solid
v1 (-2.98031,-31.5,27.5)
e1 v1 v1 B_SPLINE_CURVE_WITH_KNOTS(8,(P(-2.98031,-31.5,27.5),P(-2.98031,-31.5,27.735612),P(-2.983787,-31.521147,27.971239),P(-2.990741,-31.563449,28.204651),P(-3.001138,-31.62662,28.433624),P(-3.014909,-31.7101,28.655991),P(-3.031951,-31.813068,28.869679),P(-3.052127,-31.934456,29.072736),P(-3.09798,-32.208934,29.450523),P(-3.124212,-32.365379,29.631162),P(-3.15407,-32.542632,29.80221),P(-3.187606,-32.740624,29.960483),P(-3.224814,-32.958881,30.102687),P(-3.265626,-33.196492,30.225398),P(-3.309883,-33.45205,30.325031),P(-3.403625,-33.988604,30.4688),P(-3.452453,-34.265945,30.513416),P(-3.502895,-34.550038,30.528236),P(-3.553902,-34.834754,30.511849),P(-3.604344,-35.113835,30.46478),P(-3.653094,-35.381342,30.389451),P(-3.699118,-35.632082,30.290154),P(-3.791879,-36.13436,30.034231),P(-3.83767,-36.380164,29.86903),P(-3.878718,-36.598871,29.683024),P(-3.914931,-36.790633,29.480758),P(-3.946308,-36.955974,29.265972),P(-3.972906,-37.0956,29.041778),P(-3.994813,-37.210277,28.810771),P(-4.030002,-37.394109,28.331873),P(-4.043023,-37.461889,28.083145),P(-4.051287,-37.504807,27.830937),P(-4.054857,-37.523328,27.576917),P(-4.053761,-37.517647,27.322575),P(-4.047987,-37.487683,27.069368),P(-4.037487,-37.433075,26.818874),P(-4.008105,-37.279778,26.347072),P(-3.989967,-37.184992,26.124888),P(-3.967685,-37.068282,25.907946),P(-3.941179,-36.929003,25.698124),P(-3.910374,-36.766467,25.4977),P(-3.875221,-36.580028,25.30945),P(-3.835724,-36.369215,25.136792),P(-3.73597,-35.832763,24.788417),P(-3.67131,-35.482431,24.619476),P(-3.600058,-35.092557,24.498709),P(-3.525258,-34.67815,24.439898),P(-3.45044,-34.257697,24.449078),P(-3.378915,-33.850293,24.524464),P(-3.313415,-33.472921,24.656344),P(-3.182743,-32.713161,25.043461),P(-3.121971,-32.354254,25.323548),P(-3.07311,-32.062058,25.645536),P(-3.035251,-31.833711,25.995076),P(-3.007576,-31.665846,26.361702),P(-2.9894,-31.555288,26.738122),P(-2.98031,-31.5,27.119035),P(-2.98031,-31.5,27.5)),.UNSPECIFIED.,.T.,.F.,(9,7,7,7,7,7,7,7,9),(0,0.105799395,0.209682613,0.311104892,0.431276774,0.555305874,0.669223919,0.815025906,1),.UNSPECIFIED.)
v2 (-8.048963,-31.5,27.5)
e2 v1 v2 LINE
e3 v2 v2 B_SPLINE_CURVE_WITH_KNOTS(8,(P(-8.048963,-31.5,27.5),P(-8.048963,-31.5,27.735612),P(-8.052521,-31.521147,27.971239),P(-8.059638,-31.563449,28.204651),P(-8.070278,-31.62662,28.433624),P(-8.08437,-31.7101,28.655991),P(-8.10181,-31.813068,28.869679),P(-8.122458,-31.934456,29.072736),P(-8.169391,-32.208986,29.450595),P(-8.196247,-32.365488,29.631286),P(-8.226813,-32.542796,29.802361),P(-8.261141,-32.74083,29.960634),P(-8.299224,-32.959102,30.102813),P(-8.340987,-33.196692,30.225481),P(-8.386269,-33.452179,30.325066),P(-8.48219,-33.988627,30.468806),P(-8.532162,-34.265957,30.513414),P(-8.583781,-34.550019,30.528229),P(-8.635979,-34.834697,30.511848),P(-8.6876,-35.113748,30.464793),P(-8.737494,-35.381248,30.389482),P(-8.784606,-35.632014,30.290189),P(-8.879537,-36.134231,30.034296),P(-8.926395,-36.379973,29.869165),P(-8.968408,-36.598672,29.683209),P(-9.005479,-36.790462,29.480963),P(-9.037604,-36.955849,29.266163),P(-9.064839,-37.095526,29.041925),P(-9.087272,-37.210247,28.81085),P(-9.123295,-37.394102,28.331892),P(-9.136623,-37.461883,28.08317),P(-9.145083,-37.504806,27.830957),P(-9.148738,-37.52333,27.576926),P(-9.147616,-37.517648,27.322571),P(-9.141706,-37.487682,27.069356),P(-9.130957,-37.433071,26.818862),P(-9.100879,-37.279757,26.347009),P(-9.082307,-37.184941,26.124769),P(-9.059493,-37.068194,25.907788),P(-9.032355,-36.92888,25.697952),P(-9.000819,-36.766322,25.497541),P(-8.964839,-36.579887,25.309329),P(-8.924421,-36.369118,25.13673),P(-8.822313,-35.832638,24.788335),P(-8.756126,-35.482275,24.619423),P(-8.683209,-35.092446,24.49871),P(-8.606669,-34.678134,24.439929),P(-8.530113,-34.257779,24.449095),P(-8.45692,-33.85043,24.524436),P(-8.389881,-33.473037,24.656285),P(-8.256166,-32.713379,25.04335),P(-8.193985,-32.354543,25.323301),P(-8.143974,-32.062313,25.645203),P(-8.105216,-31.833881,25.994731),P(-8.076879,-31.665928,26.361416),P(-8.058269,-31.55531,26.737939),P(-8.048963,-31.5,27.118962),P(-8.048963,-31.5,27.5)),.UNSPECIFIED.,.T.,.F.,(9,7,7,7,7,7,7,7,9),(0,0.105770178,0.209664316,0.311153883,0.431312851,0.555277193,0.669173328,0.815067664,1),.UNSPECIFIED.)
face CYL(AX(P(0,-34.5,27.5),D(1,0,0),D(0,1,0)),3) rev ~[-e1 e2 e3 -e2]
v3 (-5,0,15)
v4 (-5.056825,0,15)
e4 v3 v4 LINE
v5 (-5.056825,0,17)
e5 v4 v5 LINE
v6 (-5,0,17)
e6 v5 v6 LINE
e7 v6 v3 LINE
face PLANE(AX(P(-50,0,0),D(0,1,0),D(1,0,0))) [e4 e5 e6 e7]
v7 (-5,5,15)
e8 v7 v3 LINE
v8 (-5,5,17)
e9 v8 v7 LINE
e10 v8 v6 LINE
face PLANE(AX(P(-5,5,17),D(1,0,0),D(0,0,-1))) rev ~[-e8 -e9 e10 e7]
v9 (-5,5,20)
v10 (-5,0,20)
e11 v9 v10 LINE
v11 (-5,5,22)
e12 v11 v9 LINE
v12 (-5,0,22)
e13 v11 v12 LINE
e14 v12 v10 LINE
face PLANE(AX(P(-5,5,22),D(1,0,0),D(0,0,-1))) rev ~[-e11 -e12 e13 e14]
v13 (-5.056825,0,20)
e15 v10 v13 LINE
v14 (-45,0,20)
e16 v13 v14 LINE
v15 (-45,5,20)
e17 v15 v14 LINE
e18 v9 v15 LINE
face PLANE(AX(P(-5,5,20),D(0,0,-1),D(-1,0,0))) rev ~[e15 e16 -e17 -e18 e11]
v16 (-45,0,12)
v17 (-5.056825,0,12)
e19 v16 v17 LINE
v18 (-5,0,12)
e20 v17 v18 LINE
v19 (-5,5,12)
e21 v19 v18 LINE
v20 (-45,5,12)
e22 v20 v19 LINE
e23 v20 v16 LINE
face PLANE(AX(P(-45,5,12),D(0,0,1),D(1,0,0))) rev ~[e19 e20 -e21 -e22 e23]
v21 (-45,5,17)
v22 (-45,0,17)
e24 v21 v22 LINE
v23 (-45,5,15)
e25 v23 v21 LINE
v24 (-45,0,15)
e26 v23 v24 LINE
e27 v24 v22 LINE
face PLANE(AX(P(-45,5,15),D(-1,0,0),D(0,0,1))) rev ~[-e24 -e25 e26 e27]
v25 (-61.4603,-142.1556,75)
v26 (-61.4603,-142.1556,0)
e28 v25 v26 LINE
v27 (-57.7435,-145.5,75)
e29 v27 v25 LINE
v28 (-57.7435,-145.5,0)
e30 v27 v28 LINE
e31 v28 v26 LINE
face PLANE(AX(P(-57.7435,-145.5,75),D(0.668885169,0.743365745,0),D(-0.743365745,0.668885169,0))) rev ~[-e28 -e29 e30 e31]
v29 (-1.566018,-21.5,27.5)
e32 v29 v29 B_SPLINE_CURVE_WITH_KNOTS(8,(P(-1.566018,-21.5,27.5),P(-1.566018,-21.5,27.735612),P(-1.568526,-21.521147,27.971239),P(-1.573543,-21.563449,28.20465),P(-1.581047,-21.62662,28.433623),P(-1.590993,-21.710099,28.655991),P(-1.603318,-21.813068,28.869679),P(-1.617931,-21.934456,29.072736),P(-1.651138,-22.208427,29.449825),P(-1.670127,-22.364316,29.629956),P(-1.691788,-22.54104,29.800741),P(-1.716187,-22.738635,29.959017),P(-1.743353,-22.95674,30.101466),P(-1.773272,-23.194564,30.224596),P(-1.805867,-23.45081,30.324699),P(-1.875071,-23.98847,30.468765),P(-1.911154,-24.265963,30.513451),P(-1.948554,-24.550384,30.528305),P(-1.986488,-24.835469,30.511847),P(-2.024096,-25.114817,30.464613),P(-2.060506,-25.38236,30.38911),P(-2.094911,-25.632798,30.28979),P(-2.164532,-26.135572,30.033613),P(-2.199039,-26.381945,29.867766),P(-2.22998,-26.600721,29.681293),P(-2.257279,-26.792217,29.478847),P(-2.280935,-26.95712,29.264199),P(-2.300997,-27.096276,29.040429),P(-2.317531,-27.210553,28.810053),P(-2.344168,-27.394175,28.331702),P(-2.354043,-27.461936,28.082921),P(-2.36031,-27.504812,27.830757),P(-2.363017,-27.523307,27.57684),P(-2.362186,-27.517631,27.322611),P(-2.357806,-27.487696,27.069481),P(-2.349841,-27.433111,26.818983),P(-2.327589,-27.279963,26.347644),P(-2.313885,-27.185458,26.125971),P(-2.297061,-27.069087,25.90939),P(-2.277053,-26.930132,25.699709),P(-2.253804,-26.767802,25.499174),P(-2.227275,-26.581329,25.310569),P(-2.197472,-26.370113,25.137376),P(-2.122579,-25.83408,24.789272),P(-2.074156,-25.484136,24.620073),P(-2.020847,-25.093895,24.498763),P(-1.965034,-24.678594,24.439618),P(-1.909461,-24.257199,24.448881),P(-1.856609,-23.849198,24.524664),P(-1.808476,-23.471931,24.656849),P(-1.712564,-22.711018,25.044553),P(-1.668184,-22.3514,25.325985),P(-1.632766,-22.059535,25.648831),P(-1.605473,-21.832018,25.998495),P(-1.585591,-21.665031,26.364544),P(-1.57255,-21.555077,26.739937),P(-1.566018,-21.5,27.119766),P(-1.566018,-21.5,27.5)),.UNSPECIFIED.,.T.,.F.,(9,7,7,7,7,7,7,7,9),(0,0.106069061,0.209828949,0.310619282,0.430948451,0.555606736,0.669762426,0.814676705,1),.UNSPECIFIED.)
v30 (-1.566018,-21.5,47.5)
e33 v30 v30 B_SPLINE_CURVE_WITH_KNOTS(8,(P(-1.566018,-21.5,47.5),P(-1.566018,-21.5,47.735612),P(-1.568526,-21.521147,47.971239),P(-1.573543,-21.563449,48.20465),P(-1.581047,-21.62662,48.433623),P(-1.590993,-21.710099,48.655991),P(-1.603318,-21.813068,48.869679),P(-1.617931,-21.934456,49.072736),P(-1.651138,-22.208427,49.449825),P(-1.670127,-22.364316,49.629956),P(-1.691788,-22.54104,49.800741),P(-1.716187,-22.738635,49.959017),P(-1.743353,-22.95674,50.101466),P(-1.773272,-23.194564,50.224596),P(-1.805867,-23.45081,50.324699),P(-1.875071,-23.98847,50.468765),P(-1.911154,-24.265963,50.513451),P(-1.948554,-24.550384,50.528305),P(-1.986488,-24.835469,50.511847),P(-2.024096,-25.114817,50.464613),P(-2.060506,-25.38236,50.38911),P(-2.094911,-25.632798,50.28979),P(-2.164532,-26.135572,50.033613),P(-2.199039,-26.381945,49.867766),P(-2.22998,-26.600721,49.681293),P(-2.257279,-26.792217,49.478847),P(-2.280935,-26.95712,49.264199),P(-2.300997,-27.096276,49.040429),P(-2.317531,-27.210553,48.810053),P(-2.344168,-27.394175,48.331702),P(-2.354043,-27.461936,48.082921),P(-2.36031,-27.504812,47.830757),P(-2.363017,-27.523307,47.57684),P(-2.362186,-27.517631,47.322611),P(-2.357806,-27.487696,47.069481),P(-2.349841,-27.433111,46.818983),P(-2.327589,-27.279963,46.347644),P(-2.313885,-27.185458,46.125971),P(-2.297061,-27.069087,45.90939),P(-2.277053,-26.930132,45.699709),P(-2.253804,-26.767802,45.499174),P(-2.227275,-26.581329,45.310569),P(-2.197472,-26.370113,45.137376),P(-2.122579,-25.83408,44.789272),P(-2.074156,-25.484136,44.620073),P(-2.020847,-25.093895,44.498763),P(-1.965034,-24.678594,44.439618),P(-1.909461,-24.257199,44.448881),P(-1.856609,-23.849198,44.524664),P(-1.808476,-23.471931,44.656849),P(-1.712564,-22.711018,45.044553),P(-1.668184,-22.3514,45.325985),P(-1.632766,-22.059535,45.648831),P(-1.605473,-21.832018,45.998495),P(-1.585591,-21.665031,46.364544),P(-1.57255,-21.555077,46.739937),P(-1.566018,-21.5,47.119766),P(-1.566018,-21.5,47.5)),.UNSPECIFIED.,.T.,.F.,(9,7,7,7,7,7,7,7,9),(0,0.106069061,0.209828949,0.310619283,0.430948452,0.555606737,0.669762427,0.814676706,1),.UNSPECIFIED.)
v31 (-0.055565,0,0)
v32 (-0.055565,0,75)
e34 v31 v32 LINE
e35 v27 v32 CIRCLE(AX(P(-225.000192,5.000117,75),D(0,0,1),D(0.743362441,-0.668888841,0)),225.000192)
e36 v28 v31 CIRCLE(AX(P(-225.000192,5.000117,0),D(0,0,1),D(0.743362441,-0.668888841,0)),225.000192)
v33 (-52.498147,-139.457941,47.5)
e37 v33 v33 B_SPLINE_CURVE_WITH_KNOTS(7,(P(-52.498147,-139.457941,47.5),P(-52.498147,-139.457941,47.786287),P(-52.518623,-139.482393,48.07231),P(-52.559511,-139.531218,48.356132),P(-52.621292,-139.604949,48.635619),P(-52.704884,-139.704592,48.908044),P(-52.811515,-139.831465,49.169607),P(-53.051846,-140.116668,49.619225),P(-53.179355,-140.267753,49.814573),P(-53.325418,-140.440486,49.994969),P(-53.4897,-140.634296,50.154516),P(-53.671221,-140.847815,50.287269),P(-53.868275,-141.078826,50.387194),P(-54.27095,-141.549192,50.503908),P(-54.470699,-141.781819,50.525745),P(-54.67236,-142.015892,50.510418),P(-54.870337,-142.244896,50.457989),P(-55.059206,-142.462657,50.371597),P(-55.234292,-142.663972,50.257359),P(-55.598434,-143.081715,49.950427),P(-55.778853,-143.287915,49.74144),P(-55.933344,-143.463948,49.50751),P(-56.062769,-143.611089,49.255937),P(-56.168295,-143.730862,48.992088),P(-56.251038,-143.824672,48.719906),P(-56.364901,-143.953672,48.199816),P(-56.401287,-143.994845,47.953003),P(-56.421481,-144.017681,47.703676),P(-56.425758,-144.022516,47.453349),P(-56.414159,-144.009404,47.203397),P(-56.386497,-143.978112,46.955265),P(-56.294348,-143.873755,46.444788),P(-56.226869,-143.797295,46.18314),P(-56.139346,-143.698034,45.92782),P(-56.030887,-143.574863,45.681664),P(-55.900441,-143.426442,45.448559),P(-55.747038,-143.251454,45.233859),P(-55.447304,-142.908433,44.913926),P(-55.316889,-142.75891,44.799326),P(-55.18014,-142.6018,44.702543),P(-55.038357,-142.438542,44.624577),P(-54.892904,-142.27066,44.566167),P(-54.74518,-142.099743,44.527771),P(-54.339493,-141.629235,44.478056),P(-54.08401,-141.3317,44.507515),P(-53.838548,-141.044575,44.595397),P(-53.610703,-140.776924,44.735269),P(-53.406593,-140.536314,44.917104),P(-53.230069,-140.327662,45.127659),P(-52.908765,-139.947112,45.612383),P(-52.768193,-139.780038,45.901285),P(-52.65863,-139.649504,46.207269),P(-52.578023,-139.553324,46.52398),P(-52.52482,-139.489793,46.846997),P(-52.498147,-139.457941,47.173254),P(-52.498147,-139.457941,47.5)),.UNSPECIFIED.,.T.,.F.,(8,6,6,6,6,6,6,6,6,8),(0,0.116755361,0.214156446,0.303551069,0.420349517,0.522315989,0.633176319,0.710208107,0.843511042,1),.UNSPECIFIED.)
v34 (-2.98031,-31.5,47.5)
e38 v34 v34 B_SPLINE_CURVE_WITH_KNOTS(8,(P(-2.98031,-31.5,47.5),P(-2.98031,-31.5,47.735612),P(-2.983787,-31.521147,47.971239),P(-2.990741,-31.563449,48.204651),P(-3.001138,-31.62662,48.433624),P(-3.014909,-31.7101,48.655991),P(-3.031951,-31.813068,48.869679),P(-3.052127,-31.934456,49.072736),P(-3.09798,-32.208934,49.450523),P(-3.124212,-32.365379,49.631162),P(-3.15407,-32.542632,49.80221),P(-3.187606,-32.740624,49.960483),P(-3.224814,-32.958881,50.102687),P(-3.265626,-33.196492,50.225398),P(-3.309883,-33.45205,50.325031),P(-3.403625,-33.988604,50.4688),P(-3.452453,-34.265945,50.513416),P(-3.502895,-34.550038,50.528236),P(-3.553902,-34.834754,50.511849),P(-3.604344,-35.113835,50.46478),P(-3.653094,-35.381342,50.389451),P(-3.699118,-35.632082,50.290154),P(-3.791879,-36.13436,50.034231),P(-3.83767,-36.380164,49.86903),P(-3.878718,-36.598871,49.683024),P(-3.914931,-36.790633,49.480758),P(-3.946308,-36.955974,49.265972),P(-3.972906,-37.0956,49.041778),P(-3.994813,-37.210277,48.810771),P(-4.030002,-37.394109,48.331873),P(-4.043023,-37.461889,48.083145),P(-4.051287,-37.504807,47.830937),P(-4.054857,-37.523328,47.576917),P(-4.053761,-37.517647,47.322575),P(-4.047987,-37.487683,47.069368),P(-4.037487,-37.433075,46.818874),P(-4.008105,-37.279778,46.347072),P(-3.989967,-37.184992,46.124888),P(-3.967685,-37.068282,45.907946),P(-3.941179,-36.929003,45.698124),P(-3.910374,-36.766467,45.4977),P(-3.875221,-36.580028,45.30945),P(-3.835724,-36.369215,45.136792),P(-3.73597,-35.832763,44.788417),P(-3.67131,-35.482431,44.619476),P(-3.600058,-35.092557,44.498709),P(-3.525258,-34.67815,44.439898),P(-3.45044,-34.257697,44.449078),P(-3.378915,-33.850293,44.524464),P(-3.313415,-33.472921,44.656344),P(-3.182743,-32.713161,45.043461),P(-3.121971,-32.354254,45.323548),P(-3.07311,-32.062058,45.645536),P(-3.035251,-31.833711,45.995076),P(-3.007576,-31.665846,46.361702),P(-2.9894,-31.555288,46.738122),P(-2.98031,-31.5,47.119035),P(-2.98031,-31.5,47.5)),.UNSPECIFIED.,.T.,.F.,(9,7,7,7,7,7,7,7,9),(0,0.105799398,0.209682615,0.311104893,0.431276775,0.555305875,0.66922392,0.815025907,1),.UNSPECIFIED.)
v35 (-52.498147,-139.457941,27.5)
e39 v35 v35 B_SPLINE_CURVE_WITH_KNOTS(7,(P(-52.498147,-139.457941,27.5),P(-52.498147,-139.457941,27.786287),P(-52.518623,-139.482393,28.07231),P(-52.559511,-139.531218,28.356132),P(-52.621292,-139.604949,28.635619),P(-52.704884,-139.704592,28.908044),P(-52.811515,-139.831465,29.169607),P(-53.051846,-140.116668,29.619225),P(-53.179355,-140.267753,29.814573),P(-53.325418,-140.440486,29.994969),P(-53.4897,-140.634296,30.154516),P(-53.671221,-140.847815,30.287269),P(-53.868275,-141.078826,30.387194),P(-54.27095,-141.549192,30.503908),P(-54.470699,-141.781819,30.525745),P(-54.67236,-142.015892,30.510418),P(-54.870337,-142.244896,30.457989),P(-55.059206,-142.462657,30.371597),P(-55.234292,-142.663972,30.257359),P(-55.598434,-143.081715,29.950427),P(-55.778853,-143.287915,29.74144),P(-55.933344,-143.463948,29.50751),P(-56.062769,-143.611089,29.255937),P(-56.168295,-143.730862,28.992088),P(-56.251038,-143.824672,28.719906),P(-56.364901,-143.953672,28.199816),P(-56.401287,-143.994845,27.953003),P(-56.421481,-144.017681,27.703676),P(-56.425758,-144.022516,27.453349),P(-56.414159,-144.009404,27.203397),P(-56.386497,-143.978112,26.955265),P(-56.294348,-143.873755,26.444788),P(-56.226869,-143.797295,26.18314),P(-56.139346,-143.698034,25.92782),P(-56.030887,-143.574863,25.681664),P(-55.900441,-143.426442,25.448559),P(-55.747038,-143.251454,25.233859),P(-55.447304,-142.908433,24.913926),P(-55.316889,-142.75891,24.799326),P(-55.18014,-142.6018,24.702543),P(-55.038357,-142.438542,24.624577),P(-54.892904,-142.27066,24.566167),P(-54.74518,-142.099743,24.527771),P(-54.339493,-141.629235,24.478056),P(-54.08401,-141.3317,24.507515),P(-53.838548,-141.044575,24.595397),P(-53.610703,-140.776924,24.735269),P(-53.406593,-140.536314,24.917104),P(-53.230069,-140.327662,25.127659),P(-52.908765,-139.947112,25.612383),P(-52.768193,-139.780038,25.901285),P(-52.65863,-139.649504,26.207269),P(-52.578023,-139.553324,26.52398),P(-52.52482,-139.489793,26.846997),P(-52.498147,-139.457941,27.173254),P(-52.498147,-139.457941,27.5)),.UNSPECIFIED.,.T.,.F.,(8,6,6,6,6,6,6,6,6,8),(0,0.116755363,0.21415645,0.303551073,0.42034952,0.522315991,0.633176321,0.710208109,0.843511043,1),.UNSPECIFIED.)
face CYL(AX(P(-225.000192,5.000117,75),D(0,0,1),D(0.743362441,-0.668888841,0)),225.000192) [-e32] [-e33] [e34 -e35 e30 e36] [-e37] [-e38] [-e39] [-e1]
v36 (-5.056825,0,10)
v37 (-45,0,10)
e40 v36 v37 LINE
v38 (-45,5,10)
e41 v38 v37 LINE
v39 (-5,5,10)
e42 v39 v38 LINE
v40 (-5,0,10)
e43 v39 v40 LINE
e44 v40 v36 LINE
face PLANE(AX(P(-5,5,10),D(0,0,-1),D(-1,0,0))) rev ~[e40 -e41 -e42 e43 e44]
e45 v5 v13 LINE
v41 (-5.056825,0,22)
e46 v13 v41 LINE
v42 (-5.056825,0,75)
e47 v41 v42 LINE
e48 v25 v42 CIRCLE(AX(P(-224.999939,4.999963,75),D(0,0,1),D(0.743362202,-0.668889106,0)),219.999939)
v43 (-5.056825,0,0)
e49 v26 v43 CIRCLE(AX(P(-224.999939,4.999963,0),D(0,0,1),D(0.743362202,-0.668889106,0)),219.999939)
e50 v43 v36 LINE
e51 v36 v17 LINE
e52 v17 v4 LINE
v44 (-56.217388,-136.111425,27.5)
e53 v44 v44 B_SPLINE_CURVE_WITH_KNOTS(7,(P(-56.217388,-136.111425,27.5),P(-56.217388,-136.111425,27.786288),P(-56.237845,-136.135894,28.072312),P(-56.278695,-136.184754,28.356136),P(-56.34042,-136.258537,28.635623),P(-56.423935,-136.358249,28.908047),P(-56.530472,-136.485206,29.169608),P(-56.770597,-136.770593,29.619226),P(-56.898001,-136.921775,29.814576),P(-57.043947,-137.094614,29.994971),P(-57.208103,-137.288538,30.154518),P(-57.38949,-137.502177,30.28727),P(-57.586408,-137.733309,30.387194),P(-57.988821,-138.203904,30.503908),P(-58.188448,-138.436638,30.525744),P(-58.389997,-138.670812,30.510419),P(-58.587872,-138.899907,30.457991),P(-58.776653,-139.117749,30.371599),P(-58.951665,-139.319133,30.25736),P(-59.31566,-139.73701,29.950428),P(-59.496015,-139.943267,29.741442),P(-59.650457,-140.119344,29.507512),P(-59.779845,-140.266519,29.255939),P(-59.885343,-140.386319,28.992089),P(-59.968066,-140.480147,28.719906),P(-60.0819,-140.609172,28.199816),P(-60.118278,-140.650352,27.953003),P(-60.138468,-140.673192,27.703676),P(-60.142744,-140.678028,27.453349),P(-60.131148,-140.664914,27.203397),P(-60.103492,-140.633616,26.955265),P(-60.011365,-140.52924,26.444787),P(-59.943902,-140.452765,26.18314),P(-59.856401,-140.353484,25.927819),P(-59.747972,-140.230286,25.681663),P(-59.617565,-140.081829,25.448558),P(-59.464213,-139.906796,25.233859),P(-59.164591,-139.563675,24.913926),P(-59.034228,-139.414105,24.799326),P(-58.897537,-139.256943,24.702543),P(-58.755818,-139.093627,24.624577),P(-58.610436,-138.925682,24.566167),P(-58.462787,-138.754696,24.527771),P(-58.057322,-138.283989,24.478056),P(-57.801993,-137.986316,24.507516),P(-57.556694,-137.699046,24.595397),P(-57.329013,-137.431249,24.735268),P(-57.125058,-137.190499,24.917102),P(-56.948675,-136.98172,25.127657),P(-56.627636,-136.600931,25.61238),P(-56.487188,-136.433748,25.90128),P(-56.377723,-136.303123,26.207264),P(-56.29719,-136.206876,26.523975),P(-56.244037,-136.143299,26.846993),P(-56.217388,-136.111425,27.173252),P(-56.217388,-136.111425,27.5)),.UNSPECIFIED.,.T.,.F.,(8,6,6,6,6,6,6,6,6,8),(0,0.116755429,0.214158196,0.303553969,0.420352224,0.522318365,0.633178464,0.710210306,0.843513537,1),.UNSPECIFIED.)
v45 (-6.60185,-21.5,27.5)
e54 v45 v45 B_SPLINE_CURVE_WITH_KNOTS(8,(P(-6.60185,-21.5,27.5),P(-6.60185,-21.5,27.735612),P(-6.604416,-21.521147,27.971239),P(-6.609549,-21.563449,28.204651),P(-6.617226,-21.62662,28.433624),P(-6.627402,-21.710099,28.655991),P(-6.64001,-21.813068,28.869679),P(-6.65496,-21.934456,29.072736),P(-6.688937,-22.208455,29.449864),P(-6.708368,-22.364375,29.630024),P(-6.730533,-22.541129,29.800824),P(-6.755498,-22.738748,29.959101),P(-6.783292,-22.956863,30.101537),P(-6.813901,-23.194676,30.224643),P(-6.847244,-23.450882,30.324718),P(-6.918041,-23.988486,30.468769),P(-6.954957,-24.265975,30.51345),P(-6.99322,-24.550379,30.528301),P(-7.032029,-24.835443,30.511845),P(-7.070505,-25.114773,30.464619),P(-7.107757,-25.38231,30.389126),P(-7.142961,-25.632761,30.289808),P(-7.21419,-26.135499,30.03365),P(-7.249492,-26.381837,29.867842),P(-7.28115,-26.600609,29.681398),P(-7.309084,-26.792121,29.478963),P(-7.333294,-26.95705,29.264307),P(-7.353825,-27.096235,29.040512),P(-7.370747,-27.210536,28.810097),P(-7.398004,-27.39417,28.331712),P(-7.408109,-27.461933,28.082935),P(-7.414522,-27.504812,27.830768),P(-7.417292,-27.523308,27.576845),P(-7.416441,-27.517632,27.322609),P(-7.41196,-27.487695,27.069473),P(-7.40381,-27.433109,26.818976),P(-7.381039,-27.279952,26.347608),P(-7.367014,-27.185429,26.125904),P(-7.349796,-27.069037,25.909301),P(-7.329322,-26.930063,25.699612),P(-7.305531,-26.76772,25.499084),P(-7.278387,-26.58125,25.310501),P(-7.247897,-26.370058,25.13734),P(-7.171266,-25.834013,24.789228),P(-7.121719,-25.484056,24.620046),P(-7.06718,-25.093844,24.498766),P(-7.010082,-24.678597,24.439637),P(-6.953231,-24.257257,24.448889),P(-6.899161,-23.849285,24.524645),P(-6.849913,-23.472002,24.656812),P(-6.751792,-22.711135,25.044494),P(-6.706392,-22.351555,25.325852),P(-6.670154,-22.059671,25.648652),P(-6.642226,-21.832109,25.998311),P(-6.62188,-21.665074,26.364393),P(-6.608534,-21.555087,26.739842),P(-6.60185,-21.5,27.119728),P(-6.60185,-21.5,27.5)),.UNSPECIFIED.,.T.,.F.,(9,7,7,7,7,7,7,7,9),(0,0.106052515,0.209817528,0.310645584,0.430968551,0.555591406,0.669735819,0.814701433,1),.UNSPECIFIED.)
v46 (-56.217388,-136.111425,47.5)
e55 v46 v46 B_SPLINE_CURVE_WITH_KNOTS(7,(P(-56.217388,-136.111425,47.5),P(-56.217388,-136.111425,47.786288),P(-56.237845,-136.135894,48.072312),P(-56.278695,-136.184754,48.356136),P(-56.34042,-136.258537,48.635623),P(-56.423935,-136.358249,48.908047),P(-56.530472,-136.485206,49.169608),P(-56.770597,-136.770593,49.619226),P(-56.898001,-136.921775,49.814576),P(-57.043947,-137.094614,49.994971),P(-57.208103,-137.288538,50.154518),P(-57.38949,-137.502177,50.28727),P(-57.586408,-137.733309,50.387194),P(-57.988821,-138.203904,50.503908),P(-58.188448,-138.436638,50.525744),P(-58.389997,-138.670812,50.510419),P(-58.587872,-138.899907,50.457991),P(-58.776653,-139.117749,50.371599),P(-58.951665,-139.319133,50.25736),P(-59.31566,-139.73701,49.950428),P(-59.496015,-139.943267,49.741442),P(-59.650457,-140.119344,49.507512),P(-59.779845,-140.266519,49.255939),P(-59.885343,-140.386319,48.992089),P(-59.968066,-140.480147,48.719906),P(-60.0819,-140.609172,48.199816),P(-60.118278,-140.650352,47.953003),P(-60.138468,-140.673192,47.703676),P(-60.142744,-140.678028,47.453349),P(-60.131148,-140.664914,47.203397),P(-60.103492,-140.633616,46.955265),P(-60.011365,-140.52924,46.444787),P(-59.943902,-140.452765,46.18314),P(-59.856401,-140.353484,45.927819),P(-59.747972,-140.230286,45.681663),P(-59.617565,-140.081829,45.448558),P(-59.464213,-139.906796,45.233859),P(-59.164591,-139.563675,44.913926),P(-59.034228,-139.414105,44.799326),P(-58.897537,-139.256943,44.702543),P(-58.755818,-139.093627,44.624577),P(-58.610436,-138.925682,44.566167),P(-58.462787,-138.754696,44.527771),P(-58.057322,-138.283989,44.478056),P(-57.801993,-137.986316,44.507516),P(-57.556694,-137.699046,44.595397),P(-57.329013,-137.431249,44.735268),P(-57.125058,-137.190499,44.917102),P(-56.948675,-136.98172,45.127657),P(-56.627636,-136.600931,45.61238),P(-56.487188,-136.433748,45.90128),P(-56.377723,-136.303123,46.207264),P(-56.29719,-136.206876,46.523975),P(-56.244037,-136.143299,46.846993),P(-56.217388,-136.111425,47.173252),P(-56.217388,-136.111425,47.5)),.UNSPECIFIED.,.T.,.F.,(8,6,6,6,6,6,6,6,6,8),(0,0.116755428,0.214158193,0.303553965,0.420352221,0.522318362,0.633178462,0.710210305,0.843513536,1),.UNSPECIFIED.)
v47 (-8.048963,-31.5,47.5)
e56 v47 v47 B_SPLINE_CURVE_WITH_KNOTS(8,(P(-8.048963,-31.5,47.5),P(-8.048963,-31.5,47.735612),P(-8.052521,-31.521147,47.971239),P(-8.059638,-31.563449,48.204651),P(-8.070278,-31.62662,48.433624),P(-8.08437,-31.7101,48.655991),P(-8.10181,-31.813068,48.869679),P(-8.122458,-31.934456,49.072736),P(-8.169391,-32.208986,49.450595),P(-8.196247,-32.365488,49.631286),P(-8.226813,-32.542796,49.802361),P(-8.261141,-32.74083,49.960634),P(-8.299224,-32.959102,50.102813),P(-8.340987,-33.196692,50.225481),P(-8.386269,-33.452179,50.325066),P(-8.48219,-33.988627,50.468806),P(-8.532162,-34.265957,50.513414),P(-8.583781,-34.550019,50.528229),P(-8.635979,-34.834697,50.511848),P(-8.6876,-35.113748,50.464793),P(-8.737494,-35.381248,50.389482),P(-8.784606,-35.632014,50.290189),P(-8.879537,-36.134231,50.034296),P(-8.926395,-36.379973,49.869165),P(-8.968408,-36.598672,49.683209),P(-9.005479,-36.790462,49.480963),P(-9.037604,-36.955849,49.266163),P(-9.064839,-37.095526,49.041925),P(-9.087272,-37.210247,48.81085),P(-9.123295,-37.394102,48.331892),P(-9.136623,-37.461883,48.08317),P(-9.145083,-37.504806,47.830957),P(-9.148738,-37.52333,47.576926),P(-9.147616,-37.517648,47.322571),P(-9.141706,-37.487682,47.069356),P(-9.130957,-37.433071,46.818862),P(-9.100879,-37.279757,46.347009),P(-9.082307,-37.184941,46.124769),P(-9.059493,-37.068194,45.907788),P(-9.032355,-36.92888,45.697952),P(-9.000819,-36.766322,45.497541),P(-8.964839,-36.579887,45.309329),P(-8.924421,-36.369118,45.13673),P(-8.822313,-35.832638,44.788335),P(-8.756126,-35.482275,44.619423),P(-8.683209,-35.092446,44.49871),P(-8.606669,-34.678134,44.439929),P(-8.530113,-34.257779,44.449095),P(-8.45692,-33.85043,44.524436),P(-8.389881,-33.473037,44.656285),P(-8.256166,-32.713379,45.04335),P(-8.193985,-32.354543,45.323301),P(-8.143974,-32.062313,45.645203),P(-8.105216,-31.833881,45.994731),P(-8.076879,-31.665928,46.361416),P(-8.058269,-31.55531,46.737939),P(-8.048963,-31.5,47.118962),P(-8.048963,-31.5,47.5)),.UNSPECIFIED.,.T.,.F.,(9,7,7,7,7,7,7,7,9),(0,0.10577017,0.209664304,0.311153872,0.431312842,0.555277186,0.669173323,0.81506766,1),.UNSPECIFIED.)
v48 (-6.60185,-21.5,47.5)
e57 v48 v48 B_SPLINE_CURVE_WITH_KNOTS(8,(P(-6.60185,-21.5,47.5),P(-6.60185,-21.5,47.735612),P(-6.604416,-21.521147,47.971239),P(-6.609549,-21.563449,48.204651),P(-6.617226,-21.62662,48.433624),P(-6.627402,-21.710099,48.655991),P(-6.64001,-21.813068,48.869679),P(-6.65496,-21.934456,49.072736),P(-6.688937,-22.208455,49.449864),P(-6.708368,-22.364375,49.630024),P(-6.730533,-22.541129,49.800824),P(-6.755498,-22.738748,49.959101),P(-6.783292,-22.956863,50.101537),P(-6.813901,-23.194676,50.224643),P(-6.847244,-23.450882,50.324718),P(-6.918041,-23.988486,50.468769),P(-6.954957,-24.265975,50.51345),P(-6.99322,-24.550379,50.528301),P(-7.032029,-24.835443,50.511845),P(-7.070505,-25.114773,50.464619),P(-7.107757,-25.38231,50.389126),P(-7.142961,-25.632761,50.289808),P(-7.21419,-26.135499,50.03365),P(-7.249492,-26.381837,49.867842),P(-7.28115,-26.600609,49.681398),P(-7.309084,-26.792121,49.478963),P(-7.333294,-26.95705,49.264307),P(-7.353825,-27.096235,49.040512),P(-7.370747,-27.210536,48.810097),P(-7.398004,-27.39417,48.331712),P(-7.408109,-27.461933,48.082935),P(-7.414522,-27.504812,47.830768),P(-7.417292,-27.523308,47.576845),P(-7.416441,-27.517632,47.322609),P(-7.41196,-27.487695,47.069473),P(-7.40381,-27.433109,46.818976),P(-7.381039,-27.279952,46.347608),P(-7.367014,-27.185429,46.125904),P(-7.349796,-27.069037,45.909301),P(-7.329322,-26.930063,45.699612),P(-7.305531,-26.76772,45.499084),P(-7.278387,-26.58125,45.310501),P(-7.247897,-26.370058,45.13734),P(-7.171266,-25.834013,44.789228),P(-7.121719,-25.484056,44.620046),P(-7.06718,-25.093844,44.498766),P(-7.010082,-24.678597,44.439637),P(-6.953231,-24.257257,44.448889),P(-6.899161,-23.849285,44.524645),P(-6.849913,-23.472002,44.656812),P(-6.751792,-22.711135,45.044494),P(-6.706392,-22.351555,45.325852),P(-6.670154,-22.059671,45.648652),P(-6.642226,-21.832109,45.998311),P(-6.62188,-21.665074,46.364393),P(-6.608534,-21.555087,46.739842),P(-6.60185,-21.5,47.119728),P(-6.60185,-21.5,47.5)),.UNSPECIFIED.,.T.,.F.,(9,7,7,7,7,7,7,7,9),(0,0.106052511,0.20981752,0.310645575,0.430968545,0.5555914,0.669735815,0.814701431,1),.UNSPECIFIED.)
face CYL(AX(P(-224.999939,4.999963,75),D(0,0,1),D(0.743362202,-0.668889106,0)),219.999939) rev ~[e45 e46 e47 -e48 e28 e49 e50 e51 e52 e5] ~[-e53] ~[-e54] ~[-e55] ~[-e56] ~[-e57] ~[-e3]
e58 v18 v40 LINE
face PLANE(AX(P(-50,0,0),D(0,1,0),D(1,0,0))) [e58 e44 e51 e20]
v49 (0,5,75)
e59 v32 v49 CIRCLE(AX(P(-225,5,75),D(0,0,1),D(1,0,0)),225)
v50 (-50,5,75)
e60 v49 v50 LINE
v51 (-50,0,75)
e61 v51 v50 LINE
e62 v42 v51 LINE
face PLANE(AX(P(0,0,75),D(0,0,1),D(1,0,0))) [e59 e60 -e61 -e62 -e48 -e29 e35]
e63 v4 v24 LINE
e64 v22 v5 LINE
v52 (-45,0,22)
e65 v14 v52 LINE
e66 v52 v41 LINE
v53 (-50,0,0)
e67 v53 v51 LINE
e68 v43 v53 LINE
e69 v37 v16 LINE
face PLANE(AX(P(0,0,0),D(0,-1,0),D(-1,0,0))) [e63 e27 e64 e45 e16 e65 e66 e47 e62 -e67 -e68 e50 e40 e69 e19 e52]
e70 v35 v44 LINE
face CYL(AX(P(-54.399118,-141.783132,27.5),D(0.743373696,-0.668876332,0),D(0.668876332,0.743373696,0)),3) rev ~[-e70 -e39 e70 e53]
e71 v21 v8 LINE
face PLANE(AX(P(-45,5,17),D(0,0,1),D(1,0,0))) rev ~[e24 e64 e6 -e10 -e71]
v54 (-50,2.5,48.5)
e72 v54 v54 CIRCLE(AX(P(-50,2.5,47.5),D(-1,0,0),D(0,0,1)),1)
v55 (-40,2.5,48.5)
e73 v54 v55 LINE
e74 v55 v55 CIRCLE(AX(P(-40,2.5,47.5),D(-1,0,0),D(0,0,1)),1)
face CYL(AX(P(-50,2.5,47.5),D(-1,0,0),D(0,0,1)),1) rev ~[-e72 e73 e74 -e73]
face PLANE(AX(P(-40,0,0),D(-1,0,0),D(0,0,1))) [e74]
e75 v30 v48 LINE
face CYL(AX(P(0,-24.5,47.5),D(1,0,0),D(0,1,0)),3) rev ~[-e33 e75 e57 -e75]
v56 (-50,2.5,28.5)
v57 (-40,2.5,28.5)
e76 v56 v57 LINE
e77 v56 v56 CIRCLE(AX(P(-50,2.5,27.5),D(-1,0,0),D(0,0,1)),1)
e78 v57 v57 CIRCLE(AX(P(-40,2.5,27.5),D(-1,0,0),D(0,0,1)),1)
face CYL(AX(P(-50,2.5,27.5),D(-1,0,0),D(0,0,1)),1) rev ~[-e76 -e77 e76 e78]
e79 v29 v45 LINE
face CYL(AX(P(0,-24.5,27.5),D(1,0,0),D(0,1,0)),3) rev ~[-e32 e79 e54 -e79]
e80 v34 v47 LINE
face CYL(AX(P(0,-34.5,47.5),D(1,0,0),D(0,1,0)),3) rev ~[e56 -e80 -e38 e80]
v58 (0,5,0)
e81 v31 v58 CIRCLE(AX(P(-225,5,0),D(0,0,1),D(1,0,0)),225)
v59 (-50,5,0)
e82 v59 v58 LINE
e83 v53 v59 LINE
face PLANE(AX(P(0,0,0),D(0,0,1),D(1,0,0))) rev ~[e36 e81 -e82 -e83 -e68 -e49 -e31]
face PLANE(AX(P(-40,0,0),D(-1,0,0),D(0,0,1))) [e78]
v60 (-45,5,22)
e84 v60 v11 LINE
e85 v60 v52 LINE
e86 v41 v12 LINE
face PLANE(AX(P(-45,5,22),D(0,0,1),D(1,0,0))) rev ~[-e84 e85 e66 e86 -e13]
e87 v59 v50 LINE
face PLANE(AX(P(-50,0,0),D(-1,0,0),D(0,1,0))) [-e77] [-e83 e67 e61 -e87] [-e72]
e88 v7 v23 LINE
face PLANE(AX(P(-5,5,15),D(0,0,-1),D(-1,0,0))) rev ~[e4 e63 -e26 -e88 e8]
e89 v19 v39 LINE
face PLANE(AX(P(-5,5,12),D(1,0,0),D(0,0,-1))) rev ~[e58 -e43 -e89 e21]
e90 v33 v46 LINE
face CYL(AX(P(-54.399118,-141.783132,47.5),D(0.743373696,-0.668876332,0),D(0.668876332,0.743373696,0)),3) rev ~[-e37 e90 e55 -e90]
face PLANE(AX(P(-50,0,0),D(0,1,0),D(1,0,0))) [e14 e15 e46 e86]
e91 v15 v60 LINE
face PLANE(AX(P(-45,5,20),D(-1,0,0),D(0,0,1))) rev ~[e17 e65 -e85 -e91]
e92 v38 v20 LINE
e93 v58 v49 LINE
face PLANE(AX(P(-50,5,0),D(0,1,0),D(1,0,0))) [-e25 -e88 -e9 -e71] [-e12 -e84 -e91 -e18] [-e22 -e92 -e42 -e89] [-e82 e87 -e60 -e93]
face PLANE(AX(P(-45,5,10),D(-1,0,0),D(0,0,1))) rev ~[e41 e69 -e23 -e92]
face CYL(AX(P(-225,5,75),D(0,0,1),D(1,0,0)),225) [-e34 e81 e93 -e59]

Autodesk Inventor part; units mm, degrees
ref_plane "YZ Plane" through (0, 0, 0) normal (1, 0, 0) x (0, 1, 0)
sketch "Sketch1" plane through (0, 0, 0) normal (0, 0, 1) x (1, 0, 0)
  line L0 (0, 0) -> (-50, 0)
  line L1 (-50, 0) -> (-50, 5)
  line L2 (-50, 5) -> (0, 5)
  line L3 (0, 5) -> (0, 0)
  dimension "d0" = 50
  dimension "d1" = 5
extrude "Extrusion1" add sketch "Sketch1" along normal blind 75
sketch "Sketch2" plane through (0, 0, 75) normal (0, 0, 1) x (1, 0, 0)
  circle A0 centre (-225, 5) radius 225 construction
  circle A1 centre (-225, 5) radius 220 construction
  line L0 (0, 0) -> (0, 5) projected
  line L1 (0, 5) -> (-5, 5)
  arc A2 (-57.7435, -145.5) -> (0, 5) centre (-225, 5) ccw
  line L2 (-57.7435, -145.5) -> (-61.4603, -142.1556)
  arc A3 (-61.4603, -142.1556) -> (-5, 5) centre (-225, 5) ccw
  dimension "d4" = 450
  dimension "d5" = 5
  dimension "d6" = 5
  dimension "d7" = 150.5
extrude "Extrusion2" add sketch "Sketch2" against normal blind 75
sketch "Sketch3" plane through (-50, 5, 0) normal (0, 1, 0) x (1, 0, 0)
  line L0 (45, -10) -> (5, -10)
  line L1 (5, -10) -> (5, -12)
  line L2 (5, -12) -> (45, -12)
  line L3 (45, -12) -> (45, -10)
  line L4 (0, 0) -> (0, -75) projected
  line L5 (0, 0) -> (50, 0) projected
  line L6 (5, -17) -> (45, -17)
  line L7 (45, -17) -> (45, -15)
  line L8 (45, -15) -> (5, -15)
  line L9 (5, -15) -> (5, -17)
  line L10 (5, -22) -> (45, -22)
  line L11 (45, -22) -> (45, -20)
  line L12 (45, -20) -> (5, -20)
  line L13 (5, -20) -> (5, -22)
  dimension "d10" = 40
  dimension "d11" = 2
  dimension "d12" = 5
  dimension "d13" = 10
  dimension "d16" = 5
extrude "Extrusion3" cut sketch "Sketch3" against normal blind 5
ref_plane "Work Plane1" through (0, 5, 0) normal (1, 0, 0) x (0, 1, 0)
sketch "Sketch4" plane through (0, 5, 0) normal (1, 0, 0) x (0, 1, 0)
  circle A0 centre (-29.5, 47.5) radius 3
  circle A1 centre (-29.5, 27.5) radius 3
  line L0 (-5, 0) -> (-5, 75) projected
  line L1 (-150.5, 0) -> (-5, 0) projected
  circle A2 centre (-39.5, 47.5) radius 3
  circle A3 centre (-39.5, 27.5) radius 3
  line L2 (0, 0) -> (0, 75) projected
  dimension "d23" = 6
  dimension "d24" = 6
  dimension "d26" = 27.5
  dimension "d27" = 20
  dimension "d30" = 6
  dimension "d31" = 6
  dimension "d32" = 10
  dimension "d33" = 29.5
extrude "Extrusion4" cut sketch "Sketch4" along normal through all both and the other way through all
ref_plane "Work Plane2" through (-57.7435, -145.5, 75) normal (0.7434, -0.6689, 0) x (0.6689, 0.7434, 0)
sketch "Sketch5" plane through (-57.7435, -145.5, 75) normal (0.7434, -0.6689, 0) x (0.6689, 0.7434, 0)
  circle A0 centre (5, -27.5) radius 3
  circle A1 centre (5, -47.5) radius 3
  line L0 (0, 0) -> (0, -75) projected
  line L1 (0, -75) -> (146.746, -75) projected
  point P0 (146.7832, -75)
  dimension "d34" = 6
  dimension "d35" = 6
  dimension "d36" = 5
  dimension "d37" = 27.5
  dimension "d38" = 20
extrude "Extrusion5" cut sketch "Sketch5" along normal through all both and the other way through all
sketch "Sketch6" plane through (-50, 0, 0) normal (-1, 0, 0) x (0, 0, 1)
  circle A0 centre (47.5, 2.5) radius 1
  circle A1 centre (27.5, 2.5) radius 1
  line L0 (0, 0) -> (0, 5) projected
  line L1 (0, 5) -> (75, 5) projected
  dimension "d41" = 2
  dimension "d42" = 2
  dimension "d43" = 27.5
  dimension "d44" = 20
  dimension "d45" = 2.5
extrude "Extrusion6" cut sketch "Sketch6" against normal blind 10
thread "Thread1" size "M2x0.4" class "6H" standard "ANSI Metric M Profile" full length
thread "Thread2" size "M2x0.4" class "6H" standard "ANSI Metric M Profile" full length
sketch "Sketch7" plane through (0, 0, 75) normal (0, 0, 1) x (1, 0, 0)
  circle A0 centre (-225, 5) radius 225
  circle A1 centre (-225, 5) radius 230
  point P0 (0, 0)
  point P1 (0, 5)
  dimension "d52" = 450
  dimension "d53" = 5
extrude "Extrusion7" cut sketch "Sketch7" against normal through all
properties part number "CW005" material "ABS Plastic"
